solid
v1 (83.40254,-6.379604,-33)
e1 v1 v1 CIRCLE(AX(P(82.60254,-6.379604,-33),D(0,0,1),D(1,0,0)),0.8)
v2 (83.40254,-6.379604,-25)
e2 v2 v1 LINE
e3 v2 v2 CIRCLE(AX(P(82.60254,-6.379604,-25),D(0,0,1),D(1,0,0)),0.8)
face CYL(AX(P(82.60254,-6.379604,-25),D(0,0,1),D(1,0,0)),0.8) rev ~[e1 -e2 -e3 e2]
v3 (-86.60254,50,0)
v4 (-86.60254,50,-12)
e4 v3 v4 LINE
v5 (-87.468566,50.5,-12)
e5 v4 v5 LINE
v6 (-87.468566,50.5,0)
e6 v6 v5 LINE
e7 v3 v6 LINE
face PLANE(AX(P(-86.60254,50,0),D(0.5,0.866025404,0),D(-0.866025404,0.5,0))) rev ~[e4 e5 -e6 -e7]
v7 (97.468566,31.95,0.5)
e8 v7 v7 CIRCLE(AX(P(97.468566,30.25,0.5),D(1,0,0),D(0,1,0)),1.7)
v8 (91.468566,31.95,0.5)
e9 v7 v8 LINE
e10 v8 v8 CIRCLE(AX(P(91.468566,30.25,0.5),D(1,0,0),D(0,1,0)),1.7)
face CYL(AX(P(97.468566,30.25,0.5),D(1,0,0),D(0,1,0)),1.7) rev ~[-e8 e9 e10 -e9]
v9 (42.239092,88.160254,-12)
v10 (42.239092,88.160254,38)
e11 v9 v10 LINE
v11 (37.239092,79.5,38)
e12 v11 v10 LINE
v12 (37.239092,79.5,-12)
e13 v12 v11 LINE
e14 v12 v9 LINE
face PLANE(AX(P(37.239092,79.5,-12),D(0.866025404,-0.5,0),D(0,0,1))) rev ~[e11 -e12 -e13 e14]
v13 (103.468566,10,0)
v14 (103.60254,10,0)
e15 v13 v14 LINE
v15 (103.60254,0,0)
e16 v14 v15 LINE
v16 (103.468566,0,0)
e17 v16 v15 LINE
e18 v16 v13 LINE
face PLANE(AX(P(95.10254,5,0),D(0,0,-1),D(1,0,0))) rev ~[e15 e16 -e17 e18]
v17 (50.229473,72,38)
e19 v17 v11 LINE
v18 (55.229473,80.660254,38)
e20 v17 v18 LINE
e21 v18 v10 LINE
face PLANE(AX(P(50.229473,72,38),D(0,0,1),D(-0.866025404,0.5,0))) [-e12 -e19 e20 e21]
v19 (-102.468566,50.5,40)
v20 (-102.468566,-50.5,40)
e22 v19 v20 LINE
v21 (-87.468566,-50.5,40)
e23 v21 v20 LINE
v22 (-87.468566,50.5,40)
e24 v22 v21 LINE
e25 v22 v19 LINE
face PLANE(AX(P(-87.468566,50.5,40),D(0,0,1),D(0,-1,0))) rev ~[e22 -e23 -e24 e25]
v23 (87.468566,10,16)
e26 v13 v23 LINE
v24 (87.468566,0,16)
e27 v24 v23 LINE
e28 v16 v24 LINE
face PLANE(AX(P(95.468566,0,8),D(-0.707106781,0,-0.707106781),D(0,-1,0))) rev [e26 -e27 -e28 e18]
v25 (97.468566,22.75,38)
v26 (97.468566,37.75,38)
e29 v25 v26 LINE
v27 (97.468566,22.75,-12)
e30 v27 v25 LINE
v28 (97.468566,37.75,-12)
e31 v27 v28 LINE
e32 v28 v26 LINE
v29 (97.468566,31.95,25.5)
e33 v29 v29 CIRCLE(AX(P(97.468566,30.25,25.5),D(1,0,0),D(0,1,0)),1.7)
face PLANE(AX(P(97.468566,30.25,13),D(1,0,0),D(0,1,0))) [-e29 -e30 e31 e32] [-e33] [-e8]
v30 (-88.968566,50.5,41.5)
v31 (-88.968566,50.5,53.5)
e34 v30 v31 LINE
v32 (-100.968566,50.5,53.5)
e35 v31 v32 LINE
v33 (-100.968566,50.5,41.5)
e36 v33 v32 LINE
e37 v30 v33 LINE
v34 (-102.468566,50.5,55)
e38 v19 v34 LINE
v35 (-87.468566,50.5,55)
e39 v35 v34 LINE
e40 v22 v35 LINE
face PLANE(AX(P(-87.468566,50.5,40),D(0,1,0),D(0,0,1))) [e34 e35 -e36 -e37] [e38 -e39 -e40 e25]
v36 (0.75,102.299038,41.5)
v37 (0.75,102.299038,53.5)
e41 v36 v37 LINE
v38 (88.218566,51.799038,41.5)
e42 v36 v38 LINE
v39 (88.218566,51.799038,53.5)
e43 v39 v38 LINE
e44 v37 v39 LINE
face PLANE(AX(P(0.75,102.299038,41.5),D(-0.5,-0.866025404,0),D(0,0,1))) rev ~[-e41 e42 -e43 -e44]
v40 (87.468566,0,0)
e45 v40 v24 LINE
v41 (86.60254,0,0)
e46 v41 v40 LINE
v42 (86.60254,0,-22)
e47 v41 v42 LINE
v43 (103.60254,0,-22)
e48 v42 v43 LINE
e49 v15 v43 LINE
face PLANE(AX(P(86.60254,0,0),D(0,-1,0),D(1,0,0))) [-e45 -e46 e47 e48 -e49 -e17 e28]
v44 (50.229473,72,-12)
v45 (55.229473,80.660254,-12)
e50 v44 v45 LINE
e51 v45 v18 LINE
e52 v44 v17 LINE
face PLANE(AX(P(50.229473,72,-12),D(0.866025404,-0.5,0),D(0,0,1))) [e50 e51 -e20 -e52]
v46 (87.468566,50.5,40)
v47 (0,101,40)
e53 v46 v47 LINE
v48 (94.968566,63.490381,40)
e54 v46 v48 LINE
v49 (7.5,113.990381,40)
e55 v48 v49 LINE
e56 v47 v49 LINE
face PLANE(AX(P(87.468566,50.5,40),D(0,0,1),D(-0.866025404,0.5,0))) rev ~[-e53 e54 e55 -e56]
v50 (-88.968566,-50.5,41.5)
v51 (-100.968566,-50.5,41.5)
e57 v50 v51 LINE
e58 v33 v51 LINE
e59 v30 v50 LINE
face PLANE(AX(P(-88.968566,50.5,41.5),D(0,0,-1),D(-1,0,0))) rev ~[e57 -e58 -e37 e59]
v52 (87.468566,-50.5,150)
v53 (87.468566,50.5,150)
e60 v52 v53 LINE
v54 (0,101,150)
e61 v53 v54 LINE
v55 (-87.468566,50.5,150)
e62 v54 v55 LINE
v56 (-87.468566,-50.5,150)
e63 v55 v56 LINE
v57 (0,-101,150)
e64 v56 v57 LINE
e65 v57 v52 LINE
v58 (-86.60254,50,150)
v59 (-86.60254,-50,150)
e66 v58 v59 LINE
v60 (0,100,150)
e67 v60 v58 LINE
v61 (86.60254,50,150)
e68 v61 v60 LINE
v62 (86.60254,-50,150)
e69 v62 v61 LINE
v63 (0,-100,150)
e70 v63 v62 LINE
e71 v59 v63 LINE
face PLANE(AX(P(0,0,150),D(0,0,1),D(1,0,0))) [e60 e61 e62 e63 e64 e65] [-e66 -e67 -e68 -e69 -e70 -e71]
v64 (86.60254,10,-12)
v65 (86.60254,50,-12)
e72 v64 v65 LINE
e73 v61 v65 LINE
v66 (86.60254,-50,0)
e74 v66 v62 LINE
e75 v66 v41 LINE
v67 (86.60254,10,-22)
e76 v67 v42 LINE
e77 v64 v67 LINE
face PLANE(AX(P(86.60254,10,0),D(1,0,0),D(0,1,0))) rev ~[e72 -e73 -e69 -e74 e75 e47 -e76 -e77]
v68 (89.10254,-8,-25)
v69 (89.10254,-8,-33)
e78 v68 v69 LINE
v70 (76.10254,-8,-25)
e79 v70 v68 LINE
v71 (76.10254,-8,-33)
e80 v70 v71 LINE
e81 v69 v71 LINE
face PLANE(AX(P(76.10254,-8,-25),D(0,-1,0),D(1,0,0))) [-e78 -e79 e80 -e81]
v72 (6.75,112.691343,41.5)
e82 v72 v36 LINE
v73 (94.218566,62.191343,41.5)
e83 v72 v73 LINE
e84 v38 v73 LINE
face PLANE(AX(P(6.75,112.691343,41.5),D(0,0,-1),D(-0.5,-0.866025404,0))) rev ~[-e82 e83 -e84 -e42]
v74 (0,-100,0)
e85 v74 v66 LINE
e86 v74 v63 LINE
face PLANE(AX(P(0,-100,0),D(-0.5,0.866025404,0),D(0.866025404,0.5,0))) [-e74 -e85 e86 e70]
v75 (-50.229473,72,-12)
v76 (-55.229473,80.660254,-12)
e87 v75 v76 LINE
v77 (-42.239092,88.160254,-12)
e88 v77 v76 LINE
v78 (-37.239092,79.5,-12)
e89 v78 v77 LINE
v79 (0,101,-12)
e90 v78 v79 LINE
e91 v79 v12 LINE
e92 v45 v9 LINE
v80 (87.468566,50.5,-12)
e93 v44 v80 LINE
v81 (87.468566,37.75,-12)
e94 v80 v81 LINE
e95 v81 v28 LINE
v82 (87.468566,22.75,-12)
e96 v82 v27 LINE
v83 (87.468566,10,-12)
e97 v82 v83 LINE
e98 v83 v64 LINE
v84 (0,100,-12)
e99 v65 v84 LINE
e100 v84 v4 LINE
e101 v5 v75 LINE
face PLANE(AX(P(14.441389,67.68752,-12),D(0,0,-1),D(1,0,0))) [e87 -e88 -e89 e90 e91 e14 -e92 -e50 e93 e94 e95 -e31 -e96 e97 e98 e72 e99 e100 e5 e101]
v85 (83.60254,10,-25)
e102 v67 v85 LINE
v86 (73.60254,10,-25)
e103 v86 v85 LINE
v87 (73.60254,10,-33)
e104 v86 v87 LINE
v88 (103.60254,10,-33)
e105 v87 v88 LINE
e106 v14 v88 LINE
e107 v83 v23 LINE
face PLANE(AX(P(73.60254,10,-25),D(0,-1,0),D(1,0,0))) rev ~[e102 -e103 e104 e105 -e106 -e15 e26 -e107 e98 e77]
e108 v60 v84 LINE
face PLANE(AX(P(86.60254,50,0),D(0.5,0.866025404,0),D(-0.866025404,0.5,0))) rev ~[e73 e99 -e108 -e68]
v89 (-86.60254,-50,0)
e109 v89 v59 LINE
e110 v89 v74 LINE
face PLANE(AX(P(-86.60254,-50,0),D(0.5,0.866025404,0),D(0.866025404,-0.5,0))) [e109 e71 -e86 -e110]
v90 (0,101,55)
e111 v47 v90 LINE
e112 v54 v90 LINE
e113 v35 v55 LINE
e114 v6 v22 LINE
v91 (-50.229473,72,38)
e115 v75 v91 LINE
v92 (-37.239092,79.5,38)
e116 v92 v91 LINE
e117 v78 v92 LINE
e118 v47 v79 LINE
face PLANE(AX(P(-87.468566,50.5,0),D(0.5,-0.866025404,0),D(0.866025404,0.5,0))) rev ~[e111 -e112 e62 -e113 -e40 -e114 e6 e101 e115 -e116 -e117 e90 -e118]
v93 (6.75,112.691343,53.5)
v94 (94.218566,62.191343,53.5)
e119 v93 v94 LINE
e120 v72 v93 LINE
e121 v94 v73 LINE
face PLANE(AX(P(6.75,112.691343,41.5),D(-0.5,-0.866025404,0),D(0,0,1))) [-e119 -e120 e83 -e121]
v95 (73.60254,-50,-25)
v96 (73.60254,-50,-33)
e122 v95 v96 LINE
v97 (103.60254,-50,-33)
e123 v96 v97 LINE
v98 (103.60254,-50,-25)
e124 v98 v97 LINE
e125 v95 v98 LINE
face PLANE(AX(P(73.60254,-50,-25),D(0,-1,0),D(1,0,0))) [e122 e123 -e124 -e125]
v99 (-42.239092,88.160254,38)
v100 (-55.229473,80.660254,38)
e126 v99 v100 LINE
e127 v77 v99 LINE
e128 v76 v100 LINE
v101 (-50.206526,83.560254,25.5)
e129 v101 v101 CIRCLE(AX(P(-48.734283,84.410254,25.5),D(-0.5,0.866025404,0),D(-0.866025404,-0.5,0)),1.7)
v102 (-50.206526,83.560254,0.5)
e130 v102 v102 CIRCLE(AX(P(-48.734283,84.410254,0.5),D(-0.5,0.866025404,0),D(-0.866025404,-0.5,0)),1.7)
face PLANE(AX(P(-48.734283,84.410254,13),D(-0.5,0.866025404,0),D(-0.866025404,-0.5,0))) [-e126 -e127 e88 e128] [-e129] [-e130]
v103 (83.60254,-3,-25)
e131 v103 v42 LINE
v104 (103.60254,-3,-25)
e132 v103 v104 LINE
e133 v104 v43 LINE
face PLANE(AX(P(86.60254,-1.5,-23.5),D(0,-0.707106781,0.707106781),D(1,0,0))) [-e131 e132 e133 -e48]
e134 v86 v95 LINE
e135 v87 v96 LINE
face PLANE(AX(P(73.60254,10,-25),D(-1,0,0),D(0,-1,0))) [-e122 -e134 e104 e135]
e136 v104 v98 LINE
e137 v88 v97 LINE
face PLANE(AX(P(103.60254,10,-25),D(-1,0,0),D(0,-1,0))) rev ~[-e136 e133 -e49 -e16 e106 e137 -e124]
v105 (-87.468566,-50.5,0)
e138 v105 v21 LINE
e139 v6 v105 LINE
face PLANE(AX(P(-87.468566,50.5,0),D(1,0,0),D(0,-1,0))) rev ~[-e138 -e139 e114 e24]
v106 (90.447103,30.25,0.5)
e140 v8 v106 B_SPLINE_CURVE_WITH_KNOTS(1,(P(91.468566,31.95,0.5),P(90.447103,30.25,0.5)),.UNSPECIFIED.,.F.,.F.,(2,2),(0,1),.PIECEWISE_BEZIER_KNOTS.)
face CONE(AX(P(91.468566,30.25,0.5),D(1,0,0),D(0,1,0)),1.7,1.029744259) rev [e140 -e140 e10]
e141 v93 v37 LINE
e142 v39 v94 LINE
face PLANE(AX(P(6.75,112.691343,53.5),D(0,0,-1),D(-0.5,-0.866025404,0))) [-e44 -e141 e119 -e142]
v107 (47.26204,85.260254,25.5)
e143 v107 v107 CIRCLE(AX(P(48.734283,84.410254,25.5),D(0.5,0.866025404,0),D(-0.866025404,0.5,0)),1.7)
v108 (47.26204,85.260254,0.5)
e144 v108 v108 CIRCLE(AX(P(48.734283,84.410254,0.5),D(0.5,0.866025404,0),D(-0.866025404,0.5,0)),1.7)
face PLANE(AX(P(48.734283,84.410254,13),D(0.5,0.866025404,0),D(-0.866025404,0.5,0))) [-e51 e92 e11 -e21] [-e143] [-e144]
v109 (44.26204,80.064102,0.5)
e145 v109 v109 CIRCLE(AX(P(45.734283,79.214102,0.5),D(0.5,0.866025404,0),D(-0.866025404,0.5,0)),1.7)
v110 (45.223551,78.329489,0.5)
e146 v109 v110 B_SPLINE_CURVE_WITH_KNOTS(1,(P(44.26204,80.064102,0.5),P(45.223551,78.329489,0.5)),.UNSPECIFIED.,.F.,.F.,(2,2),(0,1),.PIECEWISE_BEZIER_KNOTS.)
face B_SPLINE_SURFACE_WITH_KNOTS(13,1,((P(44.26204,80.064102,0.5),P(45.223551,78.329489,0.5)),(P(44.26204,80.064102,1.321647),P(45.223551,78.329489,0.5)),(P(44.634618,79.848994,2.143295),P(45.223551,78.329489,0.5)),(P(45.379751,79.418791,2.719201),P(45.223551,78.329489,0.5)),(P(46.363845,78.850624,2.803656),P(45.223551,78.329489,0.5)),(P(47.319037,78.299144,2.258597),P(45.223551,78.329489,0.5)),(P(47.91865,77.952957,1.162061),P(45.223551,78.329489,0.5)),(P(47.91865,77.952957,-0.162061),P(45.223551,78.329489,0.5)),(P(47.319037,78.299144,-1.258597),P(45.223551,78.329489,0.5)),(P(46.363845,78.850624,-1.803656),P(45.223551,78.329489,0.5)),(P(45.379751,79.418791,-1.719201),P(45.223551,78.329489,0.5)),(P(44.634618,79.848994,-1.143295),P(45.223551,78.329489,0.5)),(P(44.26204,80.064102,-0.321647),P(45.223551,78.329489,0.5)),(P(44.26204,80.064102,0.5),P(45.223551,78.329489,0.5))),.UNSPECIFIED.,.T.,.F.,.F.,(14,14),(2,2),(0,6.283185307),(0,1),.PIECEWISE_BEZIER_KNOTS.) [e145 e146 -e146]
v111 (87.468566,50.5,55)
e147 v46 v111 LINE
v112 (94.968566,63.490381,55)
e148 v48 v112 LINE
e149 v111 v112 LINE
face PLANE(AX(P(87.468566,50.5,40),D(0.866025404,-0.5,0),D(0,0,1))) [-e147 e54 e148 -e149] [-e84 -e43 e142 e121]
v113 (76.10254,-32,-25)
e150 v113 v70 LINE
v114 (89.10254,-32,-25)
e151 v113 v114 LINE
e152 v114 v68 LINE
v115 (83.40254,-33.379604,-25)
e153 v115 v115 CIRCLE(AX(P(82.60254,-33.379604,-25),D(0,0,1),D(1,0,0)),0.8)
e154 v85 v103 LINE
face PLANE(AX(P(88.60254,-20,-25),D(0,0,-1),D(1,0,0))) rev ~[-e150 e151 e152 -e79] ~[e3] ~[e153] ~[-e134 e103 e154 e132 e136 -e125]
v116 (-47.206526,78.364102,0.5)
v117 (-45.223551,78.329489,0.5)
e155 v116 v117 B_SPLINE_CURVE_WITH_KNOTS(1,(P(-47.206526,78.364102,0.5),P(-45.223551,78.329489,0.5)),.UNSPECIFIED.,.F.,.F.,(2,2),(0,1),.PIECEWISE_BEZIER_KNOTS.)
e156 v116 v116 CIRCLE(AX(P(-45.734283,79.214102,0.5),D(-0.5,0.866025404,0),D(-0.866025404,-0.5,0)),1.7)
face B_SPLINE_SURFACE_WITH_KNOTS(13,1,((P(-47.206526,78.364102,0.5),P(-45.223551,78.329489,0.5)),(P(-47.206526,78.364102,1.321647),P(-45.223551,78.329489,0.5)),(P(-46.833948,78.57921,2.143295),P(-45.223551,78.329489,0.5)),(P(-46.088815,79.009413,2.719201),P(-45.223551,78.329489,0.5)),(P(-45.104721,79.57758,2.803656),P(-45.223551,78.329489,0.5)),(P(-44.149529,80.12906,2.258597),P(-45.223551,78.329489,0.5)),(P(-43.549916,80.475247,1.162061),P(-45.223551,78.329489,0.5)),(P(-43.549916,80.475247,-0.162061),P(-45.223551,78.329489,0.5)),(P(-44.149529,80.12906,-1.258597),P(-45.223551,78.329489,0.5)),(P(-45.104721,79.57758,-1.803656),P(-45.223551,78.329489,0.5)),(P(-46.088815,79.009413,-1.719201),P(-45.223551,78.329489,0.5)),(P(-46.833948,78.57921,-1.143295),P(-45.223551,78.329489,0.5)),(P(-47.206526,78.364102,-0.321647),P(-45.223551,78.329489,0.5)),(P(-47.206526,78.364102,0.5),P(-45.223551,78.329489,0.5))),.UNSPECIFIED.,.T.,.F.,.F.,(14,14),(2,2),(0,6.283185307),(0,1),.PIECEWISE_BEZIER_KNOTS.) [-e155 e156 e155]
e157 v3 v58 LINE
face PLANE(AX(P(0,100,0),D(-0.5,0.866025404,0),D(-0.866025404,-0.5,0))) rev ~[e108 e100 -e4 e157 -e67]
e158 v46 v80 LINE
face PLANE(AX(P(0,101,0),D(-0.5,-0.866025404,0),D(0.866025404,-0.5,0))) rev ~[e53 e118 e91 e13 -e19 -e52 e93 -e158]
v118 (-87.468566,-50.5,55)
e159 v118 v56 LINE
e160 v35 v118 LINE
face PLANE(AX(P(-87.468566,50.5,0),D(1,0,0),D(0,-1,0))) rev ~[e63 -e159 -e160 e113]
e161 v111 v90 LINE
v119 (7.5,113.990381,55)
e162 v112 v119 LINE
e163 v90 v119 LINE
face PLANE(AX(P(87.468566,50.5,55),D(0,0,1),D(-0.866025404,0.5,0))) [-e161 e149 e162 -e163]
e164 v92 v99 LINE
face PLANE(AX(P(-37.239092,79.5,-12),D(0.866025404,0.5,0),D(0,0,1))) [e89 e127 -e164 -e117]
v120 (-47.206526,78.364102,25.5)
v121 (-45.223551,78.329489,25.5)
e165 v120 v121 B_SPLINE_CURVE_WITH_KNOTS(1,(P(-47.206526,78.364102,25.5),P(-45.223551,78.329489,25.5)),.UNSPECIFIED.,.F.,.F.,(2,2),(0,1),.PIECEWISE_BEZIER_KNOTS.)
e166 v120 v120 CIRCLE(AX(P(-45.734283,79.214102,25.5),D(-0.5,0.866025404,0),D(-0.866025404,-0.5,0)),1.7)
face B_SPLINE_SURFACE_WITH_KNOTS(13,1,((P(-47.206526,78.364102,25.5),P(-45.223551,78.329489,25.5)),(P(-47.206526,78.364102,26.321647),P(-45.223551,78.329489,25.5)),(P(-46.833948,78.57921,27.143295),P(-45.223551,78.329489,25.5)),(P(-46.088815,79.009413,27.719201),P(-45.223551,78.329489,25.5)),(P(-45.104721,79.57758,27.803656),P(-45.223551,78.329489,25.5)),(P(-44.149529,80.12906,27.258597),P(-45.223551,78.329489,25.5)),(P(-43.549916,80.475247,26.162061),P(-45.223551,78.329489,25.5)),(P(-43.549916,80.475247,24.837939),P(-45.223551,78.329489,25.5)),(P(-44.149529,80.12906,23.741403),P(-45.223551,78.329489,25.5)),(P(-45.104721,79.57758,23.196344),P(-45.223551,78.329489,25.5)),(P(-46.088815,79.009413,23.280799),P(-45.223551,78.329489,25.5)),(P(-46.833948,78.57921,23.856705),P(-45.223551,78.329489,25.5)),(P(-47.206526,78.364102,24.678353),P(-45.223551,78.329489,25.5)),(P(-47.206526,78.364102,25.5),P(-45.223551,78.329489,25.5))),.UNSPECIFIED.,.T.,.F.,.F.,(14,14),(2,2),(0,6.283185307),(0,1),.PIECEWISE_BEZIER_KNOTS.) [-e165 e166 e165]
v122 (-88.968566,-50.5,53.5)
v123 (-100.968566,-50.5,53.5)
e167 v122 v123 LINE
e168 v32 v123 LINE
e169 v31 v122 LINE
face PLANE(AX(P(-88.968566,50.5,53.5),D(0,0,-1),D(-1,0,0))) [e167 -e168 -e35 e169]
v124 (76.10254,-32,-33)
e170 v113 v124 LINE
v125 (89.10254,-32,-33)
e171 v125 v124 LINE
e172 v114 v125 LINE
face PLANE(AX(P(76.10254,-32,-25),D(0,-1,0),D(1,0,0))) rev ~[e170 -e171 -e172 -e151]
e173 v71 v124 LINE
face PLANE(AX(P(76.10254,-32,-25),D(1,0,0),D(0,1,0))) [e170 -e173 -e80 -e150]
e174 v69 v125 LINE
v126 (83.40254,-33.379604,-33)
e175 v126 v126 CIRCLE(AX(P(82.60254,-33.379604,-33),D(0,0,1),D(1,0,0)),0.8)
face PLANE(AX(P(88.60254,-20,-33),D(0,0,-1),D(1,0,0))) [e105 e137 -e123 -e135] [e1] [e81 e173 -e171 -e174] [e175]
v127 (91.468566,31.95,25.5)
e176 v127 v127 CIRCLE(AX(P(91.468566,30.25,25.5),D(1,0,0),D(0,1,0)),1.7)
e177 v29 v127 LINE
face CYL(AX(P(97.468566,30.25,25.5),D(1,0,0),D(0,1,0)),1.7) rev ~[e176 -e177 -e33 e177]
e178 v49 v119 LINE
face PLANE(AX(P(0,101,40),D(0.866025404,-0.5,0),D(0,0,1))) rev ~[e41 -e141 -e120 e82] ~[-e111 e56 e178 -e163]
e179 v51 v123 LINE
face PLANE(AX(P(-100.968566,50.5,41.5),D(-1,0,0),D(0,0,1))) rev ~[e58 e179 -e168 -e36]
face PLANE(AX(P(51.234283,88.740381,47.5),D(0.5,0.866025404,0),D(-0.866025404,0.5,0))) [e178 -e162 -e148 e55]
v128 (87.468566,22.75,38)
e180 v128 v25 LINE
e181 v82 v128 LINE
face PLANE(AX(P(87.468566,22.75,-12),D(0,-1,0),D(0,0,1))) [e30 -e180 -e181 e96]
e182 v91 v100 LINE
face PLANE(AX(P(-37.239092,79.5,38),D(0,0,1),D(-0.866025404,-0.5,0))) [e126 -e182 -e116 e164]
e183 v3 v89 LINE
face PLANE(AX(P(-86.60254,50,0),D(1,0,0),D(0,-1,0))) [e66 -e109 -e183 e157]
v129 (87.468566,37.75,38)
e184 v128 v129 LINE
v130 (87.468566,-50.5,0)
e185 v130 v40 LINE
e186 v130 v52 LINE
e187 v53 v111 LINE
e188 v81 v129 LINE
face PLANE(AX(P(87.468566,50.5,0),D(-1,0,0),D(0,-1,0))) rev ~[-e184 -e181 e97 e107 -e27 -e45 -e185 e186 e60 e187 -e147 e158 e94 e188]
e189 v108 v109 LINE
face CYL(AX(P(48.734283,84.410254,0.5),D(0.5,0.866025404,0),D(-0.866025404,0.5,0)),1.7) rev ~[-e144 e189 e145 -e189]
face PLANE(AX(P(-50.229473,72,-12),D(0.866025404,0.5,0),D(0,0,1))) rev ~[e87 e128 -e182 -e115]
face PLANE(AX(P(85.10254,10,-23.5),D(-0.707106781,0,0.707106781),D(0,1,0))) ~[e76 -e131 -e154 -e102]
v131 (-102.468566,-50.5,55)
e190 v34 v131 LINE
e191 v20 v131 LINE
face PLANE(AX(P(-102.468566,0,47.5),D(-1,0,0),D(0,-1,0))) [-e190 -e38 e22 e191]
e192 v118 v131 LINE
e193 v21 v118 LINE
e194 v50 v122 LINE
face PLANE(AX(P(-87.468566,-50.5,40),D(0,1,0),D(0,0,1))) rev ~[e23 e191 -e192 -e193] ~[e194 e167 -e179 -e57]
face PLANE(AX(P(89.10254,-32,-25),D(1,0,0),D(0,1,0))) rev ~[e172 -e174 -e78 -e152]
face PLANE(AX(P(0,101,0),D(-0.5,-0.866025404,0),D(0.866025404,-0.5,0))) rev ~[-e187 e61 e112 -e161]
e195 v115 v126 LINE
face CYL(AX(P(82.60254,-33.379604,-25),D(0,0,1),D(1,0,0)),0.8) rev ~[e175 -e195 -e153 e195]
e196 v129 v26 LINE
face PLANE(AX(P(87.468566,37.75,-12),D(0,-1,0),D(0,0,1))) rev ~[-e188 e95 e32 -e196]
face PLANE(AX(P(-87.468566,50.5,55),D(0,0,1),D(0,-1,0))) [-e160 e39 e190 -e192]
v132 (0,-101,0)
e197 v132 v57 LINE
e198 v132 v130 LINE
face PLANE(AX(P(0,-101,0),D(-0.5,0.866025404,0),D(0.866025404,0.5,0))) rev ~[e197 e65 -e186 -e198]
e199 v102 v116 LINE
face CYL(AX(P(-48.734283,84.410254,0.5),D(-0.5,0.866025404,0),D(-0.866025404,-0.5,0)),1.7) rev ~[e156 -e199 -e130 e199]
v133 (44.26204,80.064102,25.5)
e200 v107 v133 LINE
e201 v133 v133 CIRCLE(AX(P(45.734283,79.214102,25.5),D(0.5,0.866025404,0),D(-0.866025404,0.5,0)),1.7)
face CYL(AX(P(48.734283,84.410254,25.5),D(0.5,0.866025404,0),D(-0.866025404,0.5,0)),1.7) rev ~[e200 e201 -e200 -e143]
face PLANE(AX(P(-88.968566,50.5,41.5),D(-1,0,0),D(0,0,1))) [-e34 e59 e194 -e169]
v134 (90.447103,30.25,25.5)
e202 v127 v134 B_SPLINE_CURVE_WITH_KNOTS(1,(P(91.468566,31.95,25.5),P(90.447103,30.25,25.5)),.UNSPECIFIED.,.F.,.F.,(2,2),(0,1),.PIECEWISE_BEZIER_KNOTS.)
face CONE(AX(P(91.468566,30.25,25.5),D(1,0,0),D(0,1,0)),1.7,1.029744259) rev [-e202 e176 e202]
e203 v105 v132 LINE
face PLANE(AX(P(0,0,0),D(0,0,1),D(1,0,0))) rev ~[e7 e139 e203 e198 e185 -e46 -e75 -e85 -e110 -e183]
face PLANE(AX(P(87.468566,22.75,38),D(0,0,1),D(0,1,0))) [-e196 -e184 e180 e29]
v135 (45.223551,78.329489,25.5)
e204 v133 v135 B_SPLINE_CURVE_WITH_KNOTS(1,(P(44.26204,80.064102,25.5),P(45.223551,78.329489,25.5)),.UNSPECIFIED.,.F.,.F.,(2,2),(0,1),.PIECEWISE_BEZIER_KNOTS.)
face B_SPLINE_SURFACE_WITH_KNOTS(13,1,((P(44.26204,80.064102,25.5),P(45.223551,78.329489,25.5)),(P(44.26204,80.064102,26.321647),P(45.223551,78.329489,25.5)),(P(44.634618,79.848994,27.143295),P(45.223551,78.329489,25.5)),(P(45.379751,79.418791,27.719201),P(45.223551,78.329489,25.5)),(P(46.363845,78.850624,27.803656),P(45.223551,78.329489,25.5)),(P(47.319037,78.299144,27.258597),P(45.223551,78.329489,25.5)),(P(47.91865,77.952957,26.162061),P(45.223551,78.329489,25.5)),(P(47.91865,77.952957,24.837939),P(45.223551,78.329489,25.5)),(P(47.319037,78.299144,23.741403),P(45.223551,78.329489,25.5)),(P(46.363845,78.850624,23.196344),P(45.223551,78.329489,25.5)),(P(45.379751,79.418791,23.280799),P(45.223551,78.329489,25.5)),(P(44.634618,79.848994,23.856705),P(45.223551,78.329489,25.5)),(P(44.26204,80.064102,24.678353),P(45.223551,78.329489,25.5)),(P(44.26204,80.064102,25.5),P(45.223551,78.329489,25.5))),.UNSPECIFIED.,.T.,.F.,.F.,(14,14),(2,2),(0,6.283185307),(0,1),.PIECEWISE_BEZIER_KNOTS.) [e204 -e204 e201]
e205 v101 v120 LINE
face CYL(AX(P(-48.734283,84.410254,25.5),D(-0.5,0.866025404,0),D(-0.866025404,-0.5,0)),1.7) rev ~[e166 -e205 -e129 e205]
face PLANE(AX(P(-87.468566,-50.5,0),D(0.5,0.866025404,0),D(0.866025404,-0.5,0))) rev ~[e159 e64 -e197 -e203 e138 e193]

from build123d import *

# Parameters (mm, degrees)
PAD_DEPTH       = 150
SKETCH001_W     = 17
SKETCH001_H     = 10
PAD001_DEPTH    = 25
SKETCH002_W     = 30
SKETCH002_H     = 60
PAD002_DEPTH    = 8
SKETCH003_W     = 13
SKETCH003_H     = 24
POCKET_DEPTH    = 8.001
SKETCH004_R     = 0.8
HOLE_DEPTH      = 25
CHAMFER_SIZE    = 16
CHAMFER001_SIZE = 3
PAD003_DEPTH    = 12
SKETCH006_W     = 15
SKETCH006_H     = 50
PAD004_DEPTH    = 10
SKETCH007_R     = 1.7
HOLE001_DEPTH   = 6
HOLE001_TIPS_R  = 1.7
SKETCH008_W     = 15
SKETCH008_H     = 50
PAD005_DEPTH    = 10
SKETCH009_R     = 1.7
HOLE002_DEPTH   = 6
HOLE002_TIPS_R  = 1.7
SKETCH010_W     = 15
SKETCH010_H     = 50
PAD006_DEPTH    = 10
SKETCH011_R     = 1.7
HOLE003_DEPTH   = 6
HOLE003_TIPS_R  = 1.7
SKETCH012_W     = 101
SKETCH012_H     = 15
PAD007_DEPTH    = 15
SKETCH013_W     = 12
SKETCH013_H     = 12
POCKET001_DEPTH = 151.501
SKETCH014_W     = 101
SKETCH014_H     = 15
PAD008_DEPTH    = 15
SKETCH015_W     = 12
SKETCH015_H     = 12
POCKET002_DEPTH = 190.7234318643


with BuildPart() as part:
    # Sketch → Pad (new body)
    with BuildSketch(Plane.XY):
        Polygon((87.4685657822, -50.5), (87.4685657822, 50.5), (0, 101), (-87.4685657822, 50.5), (-87.4685657822, -50.5), (0, -101), align=None)
        Polygon((86.6025403784, 50), (0, 100), (-86.6025403784, 50), (-86.6025403784, -50), (0, -100), (86.6025403784, -50), align=None, mode=Mode.SUBTRACT)
    extrude(amount=PAD_DEPTH)

    # Sketch001 (on Face13 of Pad) → Pad001 (join)
    with BuildSketch(Plane(origin=(0, 0, 0), x_dir=(1, 0, 0), z_dir=(0, 0, -1))):
        with Locations((95.1025403784, -5)):
            Rectangle(SKETCH001_W, SKETCH001_H)
    extrude(amount=PAD001_DEPTH)

    # Sketch002 (on Face20 of Pad001) → Pad002 (join)
    with BuildSketch(Plane(origin=(0, 0, -25), x_dir=(1, 0, 0), z_dir=(0, 0, -1))):
        with Locations((88.6025403784, 20)):
            Rectangle(SKETCH002_W, SKETCH002_H)
    extrude(amount=PAD002_DEPTH)

    # Sketch003 (on Face21 of Pad002) → Pocket (cut, through all)
    with BuildSketch(Plane.XY.offset(-25)):
        with Locations((82.6025403784, -20)):
            Rectangle(SKETCH003_W, SKETCH003_H)
    extrude(amount=-POCKET_DEPTH, mode=Mode.SUBTRACT)

    # Sketch004 (on Face21 of Pocket) → Hole (cut)
    with BuildSketch(Plane.XY.offset(-25)):
        with Locations((82.6025403784, -6.379604)):
            Circle(SKETCH004_R)
        with Locations((82.6025403784, -33.379604)):
            Circle(SKETCH004_R)
    extrude(amount=-HOLE_DEPTH, mode=Mode.SUBTRACT)

    # Chamfer
    chamfer_edges = [part.edges().sort_by_distance(p)[0] for p in [
        (87.468566, 5, 0),
    ]]
    chamfer(chamfer_edges, length=CHAMFER_SIZE)

    # Chamfer001
    chamfer001_edges = [part.edges().sort_by_distance(p)[0] for p in [
        (95.10254, 0, -25),
        (86.60254, 5, -25),
    ]]
    chamfer(chamfer001_edges, length=CHAMFER001_SIZE)

    # Sketch005 (on Face7 of Chamfer001) → Pad003 (join)
    with BuildSketch(Plane(origin=(0, 0, 0), x_dir=(1, 0, 0), z_dir=(0, 0, -1))):
        Polygon((86.6025403784, -10), (86.6025403784, -50), (0, -100), (-86.6025403784, -50), (-87.4685657822, -50.5), (0, -101), (87.4685657822, -50.5), (87.4685657822, -10), align=None)
    extrude(amount=PAD003_DEPTH)

    # Sketch006 (on Face23 of Pad003) → Pad004 (join)
    with BuildSketch(Plane.YZ.offset(87.4685657822)):
        with Locations((30.25, 13)):
            Rectangle(SKETCH006_W, SKETCH006_H)
    extrude(amount=PAD004_DEPTH)

    # Sketch007 (on Face47 of Pad004) → Hole001 (cut)
    with BuildSketch(Plane.YZ.offset(97.4685657822)):
        with Locations((30.25, 25.5)):
            Circle(SKETCH007_R)
        with Locations((30.25, 0.5)):
            Circle(SKETCH007_R)
    extrude(amount=-HOLE001_DEPTH, mode=Mode.SUBTRACT)

    # Hole001 tips → Hole001 tip 1 section 0
    with BuildSketch(Plane.YZ.offset(91.4685657822), mode=Mode.PRIVATE) as hole001_tip_1_s0:
        with Locations((30.25, 25.5)):
            Circle(HOLE001_TIPS_R)
    loft([hole001_tip_1_s0.sketch, Vertex(90.4471027299, 30.25, 25.5)], mode=Mode.SUBTRACT)

    # Hole001 tips → Hole001 tip 2 section 0
    with BuildSketch(Plane.YZ.offset(91.4685657822), mode=Mode.PRIVATE) as hole001_tip_2_s0:
        with Locations((30.25, 0.5)):
            Circle(HOLE001_TIPS_R)
    loft([hole001_tip_2_s0.sketch, Vertex(90.4471027299, 30.25, 0.5)], mode=Mode.SUBTRACT)

    # Sketch008 (on Face48 of Hole001) → Pad005 (join)
    with BuildSketch(Plane(origin=(43.7342828911, 75.75, 0), x_dir=(-0.8660254038, 0.5, 0), z_dir=(0.5, 0.8660254038, 0))):
        with Locations((0, 13)):
            Rectangle(SKETCH008_W, SKETCH008_H)
    extrude(amount=PAD005_DEPTH)

    # Sketch009 (on Face56 of Pad005) → Hole002 (cut)
    with BuildSketch(Plane(origin=(48.7342828911, 84.4102540378, 0), x_dir=(-0.8660254038, 0.5, 0), z_dir=(0.5, 0.8660254038, 0))):
        with Locations((0, 25.5)):
            Circle(SKETCH009_R)
        with Locations((0, 0.5)):
            Circle(SKETCH009_R)
    extrude(amount=-HOLE002_DEPTH, mode=Mode.SUBTRACT)

    # Hole002 tips → Hole002 tip 1 section 0
    with BuildSketch(Plane(origin=(45.7342828911, 79.2141016151, 0), x_dir=(-0.8660254038, 0.5, 0), z_dir=(0.5, 0.8660254038, 0)), mode=Mode.PRIVATE) as hole002_tip_1_s0:
        with Locations((0, 25.5)):
            Circle(HOLE002_TIPS_R)
    loft([hole002_tip_1_s0.sketch, Vertex(45.2235513649, 78.3294886628, 25.5)], mode=Mode.SUBTRACT)

    # Hole002 tips → Hole002 tip 2 section 0
    with BuildSketch(Plane(origin=(45.7342828911, 79.2141016151, 0), x_dir=(-0.8660254038, 0.5, 0), z_dir=(0.5, 0.8660254038, 0)), mode=Mode.PRIVATE) as hole002_tip_2_s0:
        with Locations((0, 0.5)):
            Circle(HOLE002_TIPS_R)
    loft([hole002_tip_2_s0.sketch, Vertex(45.2235513649, 78.3294886628, 0.5)], mode=Mode.SUBTRACT)

    # Sketch010 (on Face44 of Hole002) → Pad006 (join)
    with BuildSketch(Plane(origin=(-43.7342828911, 75.75, 0), x_dir=(-0.8660254038, -0.5, 0), z_dir=(-0.5, 0.8660254038, 0))):
        with Locations((0, 13)):
            Rectangle(SKETCH010_W, SKETCH010_H)
    extrude(amount=PAD006_DEPTH)

    # Sketch011 (on Face62 of Pad006) → Hole003 (cut)
    with BuildSketch(Plane(origin=(-48.7342828911, 84.4102540378, 0), x_dir=(-0.8660254038, -0.5, 0), z_dir=(-0.5, 0.8660254038, 0))):
        with Locations((0, 25.5)):
            Circle(SKETCH011_R)
        with Locations((0, 0.5)):
            Circle(SKETCH011_R)
    extrude(amount=-HOLE003_DEPTH, mode=Mode.SUBTRACT)

    # Hole003 tips → Hole003 tip 1 section 0
    with BuildSketch(Plane(origin=(-45.7342828911, 79.2141016151, 0), x_dir=(-0.8660254038, -0.5, 0), z_dir=(-0.5, 0.8660254038, 0)), mode=Mode.PRIVATE) as hole003_tip_1_s0:
        with Locations((0, 25.5)):
            Circle(HOLE003_TIPS_R)
    loft([hole003_tip_1_s0.sketch, Vertex(-45.2235513649, 78.3294886628, 25.5)], mode=Mode.SUBTRACT)

    # Hole003 tips → Hole003 tip 2 section 0
    with BuildSketch(Plane(origin=(-45.7342828911, 79.2141016151, 0), x_dir=(-0.8660254038, -0.5, 0), z_dir=(-0.5, 0.8660254038, 0)), mode=Mode.PRIVATE) as hole003_tip_2_s0:
        with Locations((0, 0.5)):
            Circle(HOLE003_TIPS_R)
    loft([hole003_tip_2_s0.sketch, Vertex(-45.2235513649, 78.3294886628, 0.5)], mode=Mode.SUBTRACT)

    # Sketch012 (on Face16 of Hole003) → Pad007 (join)
    with BuildSketch(Plane(origin=(-87.4685657822, 0, 0), x_dir=(0, -1, 0), z_dir=(-1, 0, 0))):
        with Locations((0, 47.5)):
            Rectangle(SKETCH012_W, SKETCH012_H)
    extrude(amount=PAD007_DEPTH)

    # Sketch013 (on Face61 of Pad007) → Pocket001 (cut, through all)
    with BuildSketch(Plane(origin=(0, 50.5, 0), x_dir=(-1, 0, 0), z_dir=(0, 1, 0))):
        with Locations((94.9685657822, 47.5)):
            Rectangle(SKETCH013_W, SKETCH013_H)
    extrude(amount=-POCKET001_DEPTH, mode=Mode.SUBTRACT)

    # Sketch014 (on Face27 of Pocket001) → Pad008 (join)
    with BuildSketch(Plane(origin=(43.7342828911, 75.75, 0), x_dir=(-0.8660254038, 0.5, 0), z_dir=(0.5, 0.8660254038, 0))):
        with Locations((0, 47.5)):
            Rectangle(SKETCH014_W, SKETCH014_H)
    extrude(amount=PAD008_DEPTH)

    # Sketch015 (on Face49 of Pad008) → Pocket002 (cut, through all)
    with BuildSketch(Plane(origin=(-43.7342828911, 25.25, 0), x_dir=(-0.5, -0.8660254038, 0), z_dir=(-0.8660254038, 0.5, 0))):
        with Locations((-94.9685657822, 47.5)):
            Rectangle(SKETCH015_W, SKETCH015_H)
    extrude(amount=-POCKET002_DEPTH, mode=Mode.SUBTRACT)


solid = part.part
